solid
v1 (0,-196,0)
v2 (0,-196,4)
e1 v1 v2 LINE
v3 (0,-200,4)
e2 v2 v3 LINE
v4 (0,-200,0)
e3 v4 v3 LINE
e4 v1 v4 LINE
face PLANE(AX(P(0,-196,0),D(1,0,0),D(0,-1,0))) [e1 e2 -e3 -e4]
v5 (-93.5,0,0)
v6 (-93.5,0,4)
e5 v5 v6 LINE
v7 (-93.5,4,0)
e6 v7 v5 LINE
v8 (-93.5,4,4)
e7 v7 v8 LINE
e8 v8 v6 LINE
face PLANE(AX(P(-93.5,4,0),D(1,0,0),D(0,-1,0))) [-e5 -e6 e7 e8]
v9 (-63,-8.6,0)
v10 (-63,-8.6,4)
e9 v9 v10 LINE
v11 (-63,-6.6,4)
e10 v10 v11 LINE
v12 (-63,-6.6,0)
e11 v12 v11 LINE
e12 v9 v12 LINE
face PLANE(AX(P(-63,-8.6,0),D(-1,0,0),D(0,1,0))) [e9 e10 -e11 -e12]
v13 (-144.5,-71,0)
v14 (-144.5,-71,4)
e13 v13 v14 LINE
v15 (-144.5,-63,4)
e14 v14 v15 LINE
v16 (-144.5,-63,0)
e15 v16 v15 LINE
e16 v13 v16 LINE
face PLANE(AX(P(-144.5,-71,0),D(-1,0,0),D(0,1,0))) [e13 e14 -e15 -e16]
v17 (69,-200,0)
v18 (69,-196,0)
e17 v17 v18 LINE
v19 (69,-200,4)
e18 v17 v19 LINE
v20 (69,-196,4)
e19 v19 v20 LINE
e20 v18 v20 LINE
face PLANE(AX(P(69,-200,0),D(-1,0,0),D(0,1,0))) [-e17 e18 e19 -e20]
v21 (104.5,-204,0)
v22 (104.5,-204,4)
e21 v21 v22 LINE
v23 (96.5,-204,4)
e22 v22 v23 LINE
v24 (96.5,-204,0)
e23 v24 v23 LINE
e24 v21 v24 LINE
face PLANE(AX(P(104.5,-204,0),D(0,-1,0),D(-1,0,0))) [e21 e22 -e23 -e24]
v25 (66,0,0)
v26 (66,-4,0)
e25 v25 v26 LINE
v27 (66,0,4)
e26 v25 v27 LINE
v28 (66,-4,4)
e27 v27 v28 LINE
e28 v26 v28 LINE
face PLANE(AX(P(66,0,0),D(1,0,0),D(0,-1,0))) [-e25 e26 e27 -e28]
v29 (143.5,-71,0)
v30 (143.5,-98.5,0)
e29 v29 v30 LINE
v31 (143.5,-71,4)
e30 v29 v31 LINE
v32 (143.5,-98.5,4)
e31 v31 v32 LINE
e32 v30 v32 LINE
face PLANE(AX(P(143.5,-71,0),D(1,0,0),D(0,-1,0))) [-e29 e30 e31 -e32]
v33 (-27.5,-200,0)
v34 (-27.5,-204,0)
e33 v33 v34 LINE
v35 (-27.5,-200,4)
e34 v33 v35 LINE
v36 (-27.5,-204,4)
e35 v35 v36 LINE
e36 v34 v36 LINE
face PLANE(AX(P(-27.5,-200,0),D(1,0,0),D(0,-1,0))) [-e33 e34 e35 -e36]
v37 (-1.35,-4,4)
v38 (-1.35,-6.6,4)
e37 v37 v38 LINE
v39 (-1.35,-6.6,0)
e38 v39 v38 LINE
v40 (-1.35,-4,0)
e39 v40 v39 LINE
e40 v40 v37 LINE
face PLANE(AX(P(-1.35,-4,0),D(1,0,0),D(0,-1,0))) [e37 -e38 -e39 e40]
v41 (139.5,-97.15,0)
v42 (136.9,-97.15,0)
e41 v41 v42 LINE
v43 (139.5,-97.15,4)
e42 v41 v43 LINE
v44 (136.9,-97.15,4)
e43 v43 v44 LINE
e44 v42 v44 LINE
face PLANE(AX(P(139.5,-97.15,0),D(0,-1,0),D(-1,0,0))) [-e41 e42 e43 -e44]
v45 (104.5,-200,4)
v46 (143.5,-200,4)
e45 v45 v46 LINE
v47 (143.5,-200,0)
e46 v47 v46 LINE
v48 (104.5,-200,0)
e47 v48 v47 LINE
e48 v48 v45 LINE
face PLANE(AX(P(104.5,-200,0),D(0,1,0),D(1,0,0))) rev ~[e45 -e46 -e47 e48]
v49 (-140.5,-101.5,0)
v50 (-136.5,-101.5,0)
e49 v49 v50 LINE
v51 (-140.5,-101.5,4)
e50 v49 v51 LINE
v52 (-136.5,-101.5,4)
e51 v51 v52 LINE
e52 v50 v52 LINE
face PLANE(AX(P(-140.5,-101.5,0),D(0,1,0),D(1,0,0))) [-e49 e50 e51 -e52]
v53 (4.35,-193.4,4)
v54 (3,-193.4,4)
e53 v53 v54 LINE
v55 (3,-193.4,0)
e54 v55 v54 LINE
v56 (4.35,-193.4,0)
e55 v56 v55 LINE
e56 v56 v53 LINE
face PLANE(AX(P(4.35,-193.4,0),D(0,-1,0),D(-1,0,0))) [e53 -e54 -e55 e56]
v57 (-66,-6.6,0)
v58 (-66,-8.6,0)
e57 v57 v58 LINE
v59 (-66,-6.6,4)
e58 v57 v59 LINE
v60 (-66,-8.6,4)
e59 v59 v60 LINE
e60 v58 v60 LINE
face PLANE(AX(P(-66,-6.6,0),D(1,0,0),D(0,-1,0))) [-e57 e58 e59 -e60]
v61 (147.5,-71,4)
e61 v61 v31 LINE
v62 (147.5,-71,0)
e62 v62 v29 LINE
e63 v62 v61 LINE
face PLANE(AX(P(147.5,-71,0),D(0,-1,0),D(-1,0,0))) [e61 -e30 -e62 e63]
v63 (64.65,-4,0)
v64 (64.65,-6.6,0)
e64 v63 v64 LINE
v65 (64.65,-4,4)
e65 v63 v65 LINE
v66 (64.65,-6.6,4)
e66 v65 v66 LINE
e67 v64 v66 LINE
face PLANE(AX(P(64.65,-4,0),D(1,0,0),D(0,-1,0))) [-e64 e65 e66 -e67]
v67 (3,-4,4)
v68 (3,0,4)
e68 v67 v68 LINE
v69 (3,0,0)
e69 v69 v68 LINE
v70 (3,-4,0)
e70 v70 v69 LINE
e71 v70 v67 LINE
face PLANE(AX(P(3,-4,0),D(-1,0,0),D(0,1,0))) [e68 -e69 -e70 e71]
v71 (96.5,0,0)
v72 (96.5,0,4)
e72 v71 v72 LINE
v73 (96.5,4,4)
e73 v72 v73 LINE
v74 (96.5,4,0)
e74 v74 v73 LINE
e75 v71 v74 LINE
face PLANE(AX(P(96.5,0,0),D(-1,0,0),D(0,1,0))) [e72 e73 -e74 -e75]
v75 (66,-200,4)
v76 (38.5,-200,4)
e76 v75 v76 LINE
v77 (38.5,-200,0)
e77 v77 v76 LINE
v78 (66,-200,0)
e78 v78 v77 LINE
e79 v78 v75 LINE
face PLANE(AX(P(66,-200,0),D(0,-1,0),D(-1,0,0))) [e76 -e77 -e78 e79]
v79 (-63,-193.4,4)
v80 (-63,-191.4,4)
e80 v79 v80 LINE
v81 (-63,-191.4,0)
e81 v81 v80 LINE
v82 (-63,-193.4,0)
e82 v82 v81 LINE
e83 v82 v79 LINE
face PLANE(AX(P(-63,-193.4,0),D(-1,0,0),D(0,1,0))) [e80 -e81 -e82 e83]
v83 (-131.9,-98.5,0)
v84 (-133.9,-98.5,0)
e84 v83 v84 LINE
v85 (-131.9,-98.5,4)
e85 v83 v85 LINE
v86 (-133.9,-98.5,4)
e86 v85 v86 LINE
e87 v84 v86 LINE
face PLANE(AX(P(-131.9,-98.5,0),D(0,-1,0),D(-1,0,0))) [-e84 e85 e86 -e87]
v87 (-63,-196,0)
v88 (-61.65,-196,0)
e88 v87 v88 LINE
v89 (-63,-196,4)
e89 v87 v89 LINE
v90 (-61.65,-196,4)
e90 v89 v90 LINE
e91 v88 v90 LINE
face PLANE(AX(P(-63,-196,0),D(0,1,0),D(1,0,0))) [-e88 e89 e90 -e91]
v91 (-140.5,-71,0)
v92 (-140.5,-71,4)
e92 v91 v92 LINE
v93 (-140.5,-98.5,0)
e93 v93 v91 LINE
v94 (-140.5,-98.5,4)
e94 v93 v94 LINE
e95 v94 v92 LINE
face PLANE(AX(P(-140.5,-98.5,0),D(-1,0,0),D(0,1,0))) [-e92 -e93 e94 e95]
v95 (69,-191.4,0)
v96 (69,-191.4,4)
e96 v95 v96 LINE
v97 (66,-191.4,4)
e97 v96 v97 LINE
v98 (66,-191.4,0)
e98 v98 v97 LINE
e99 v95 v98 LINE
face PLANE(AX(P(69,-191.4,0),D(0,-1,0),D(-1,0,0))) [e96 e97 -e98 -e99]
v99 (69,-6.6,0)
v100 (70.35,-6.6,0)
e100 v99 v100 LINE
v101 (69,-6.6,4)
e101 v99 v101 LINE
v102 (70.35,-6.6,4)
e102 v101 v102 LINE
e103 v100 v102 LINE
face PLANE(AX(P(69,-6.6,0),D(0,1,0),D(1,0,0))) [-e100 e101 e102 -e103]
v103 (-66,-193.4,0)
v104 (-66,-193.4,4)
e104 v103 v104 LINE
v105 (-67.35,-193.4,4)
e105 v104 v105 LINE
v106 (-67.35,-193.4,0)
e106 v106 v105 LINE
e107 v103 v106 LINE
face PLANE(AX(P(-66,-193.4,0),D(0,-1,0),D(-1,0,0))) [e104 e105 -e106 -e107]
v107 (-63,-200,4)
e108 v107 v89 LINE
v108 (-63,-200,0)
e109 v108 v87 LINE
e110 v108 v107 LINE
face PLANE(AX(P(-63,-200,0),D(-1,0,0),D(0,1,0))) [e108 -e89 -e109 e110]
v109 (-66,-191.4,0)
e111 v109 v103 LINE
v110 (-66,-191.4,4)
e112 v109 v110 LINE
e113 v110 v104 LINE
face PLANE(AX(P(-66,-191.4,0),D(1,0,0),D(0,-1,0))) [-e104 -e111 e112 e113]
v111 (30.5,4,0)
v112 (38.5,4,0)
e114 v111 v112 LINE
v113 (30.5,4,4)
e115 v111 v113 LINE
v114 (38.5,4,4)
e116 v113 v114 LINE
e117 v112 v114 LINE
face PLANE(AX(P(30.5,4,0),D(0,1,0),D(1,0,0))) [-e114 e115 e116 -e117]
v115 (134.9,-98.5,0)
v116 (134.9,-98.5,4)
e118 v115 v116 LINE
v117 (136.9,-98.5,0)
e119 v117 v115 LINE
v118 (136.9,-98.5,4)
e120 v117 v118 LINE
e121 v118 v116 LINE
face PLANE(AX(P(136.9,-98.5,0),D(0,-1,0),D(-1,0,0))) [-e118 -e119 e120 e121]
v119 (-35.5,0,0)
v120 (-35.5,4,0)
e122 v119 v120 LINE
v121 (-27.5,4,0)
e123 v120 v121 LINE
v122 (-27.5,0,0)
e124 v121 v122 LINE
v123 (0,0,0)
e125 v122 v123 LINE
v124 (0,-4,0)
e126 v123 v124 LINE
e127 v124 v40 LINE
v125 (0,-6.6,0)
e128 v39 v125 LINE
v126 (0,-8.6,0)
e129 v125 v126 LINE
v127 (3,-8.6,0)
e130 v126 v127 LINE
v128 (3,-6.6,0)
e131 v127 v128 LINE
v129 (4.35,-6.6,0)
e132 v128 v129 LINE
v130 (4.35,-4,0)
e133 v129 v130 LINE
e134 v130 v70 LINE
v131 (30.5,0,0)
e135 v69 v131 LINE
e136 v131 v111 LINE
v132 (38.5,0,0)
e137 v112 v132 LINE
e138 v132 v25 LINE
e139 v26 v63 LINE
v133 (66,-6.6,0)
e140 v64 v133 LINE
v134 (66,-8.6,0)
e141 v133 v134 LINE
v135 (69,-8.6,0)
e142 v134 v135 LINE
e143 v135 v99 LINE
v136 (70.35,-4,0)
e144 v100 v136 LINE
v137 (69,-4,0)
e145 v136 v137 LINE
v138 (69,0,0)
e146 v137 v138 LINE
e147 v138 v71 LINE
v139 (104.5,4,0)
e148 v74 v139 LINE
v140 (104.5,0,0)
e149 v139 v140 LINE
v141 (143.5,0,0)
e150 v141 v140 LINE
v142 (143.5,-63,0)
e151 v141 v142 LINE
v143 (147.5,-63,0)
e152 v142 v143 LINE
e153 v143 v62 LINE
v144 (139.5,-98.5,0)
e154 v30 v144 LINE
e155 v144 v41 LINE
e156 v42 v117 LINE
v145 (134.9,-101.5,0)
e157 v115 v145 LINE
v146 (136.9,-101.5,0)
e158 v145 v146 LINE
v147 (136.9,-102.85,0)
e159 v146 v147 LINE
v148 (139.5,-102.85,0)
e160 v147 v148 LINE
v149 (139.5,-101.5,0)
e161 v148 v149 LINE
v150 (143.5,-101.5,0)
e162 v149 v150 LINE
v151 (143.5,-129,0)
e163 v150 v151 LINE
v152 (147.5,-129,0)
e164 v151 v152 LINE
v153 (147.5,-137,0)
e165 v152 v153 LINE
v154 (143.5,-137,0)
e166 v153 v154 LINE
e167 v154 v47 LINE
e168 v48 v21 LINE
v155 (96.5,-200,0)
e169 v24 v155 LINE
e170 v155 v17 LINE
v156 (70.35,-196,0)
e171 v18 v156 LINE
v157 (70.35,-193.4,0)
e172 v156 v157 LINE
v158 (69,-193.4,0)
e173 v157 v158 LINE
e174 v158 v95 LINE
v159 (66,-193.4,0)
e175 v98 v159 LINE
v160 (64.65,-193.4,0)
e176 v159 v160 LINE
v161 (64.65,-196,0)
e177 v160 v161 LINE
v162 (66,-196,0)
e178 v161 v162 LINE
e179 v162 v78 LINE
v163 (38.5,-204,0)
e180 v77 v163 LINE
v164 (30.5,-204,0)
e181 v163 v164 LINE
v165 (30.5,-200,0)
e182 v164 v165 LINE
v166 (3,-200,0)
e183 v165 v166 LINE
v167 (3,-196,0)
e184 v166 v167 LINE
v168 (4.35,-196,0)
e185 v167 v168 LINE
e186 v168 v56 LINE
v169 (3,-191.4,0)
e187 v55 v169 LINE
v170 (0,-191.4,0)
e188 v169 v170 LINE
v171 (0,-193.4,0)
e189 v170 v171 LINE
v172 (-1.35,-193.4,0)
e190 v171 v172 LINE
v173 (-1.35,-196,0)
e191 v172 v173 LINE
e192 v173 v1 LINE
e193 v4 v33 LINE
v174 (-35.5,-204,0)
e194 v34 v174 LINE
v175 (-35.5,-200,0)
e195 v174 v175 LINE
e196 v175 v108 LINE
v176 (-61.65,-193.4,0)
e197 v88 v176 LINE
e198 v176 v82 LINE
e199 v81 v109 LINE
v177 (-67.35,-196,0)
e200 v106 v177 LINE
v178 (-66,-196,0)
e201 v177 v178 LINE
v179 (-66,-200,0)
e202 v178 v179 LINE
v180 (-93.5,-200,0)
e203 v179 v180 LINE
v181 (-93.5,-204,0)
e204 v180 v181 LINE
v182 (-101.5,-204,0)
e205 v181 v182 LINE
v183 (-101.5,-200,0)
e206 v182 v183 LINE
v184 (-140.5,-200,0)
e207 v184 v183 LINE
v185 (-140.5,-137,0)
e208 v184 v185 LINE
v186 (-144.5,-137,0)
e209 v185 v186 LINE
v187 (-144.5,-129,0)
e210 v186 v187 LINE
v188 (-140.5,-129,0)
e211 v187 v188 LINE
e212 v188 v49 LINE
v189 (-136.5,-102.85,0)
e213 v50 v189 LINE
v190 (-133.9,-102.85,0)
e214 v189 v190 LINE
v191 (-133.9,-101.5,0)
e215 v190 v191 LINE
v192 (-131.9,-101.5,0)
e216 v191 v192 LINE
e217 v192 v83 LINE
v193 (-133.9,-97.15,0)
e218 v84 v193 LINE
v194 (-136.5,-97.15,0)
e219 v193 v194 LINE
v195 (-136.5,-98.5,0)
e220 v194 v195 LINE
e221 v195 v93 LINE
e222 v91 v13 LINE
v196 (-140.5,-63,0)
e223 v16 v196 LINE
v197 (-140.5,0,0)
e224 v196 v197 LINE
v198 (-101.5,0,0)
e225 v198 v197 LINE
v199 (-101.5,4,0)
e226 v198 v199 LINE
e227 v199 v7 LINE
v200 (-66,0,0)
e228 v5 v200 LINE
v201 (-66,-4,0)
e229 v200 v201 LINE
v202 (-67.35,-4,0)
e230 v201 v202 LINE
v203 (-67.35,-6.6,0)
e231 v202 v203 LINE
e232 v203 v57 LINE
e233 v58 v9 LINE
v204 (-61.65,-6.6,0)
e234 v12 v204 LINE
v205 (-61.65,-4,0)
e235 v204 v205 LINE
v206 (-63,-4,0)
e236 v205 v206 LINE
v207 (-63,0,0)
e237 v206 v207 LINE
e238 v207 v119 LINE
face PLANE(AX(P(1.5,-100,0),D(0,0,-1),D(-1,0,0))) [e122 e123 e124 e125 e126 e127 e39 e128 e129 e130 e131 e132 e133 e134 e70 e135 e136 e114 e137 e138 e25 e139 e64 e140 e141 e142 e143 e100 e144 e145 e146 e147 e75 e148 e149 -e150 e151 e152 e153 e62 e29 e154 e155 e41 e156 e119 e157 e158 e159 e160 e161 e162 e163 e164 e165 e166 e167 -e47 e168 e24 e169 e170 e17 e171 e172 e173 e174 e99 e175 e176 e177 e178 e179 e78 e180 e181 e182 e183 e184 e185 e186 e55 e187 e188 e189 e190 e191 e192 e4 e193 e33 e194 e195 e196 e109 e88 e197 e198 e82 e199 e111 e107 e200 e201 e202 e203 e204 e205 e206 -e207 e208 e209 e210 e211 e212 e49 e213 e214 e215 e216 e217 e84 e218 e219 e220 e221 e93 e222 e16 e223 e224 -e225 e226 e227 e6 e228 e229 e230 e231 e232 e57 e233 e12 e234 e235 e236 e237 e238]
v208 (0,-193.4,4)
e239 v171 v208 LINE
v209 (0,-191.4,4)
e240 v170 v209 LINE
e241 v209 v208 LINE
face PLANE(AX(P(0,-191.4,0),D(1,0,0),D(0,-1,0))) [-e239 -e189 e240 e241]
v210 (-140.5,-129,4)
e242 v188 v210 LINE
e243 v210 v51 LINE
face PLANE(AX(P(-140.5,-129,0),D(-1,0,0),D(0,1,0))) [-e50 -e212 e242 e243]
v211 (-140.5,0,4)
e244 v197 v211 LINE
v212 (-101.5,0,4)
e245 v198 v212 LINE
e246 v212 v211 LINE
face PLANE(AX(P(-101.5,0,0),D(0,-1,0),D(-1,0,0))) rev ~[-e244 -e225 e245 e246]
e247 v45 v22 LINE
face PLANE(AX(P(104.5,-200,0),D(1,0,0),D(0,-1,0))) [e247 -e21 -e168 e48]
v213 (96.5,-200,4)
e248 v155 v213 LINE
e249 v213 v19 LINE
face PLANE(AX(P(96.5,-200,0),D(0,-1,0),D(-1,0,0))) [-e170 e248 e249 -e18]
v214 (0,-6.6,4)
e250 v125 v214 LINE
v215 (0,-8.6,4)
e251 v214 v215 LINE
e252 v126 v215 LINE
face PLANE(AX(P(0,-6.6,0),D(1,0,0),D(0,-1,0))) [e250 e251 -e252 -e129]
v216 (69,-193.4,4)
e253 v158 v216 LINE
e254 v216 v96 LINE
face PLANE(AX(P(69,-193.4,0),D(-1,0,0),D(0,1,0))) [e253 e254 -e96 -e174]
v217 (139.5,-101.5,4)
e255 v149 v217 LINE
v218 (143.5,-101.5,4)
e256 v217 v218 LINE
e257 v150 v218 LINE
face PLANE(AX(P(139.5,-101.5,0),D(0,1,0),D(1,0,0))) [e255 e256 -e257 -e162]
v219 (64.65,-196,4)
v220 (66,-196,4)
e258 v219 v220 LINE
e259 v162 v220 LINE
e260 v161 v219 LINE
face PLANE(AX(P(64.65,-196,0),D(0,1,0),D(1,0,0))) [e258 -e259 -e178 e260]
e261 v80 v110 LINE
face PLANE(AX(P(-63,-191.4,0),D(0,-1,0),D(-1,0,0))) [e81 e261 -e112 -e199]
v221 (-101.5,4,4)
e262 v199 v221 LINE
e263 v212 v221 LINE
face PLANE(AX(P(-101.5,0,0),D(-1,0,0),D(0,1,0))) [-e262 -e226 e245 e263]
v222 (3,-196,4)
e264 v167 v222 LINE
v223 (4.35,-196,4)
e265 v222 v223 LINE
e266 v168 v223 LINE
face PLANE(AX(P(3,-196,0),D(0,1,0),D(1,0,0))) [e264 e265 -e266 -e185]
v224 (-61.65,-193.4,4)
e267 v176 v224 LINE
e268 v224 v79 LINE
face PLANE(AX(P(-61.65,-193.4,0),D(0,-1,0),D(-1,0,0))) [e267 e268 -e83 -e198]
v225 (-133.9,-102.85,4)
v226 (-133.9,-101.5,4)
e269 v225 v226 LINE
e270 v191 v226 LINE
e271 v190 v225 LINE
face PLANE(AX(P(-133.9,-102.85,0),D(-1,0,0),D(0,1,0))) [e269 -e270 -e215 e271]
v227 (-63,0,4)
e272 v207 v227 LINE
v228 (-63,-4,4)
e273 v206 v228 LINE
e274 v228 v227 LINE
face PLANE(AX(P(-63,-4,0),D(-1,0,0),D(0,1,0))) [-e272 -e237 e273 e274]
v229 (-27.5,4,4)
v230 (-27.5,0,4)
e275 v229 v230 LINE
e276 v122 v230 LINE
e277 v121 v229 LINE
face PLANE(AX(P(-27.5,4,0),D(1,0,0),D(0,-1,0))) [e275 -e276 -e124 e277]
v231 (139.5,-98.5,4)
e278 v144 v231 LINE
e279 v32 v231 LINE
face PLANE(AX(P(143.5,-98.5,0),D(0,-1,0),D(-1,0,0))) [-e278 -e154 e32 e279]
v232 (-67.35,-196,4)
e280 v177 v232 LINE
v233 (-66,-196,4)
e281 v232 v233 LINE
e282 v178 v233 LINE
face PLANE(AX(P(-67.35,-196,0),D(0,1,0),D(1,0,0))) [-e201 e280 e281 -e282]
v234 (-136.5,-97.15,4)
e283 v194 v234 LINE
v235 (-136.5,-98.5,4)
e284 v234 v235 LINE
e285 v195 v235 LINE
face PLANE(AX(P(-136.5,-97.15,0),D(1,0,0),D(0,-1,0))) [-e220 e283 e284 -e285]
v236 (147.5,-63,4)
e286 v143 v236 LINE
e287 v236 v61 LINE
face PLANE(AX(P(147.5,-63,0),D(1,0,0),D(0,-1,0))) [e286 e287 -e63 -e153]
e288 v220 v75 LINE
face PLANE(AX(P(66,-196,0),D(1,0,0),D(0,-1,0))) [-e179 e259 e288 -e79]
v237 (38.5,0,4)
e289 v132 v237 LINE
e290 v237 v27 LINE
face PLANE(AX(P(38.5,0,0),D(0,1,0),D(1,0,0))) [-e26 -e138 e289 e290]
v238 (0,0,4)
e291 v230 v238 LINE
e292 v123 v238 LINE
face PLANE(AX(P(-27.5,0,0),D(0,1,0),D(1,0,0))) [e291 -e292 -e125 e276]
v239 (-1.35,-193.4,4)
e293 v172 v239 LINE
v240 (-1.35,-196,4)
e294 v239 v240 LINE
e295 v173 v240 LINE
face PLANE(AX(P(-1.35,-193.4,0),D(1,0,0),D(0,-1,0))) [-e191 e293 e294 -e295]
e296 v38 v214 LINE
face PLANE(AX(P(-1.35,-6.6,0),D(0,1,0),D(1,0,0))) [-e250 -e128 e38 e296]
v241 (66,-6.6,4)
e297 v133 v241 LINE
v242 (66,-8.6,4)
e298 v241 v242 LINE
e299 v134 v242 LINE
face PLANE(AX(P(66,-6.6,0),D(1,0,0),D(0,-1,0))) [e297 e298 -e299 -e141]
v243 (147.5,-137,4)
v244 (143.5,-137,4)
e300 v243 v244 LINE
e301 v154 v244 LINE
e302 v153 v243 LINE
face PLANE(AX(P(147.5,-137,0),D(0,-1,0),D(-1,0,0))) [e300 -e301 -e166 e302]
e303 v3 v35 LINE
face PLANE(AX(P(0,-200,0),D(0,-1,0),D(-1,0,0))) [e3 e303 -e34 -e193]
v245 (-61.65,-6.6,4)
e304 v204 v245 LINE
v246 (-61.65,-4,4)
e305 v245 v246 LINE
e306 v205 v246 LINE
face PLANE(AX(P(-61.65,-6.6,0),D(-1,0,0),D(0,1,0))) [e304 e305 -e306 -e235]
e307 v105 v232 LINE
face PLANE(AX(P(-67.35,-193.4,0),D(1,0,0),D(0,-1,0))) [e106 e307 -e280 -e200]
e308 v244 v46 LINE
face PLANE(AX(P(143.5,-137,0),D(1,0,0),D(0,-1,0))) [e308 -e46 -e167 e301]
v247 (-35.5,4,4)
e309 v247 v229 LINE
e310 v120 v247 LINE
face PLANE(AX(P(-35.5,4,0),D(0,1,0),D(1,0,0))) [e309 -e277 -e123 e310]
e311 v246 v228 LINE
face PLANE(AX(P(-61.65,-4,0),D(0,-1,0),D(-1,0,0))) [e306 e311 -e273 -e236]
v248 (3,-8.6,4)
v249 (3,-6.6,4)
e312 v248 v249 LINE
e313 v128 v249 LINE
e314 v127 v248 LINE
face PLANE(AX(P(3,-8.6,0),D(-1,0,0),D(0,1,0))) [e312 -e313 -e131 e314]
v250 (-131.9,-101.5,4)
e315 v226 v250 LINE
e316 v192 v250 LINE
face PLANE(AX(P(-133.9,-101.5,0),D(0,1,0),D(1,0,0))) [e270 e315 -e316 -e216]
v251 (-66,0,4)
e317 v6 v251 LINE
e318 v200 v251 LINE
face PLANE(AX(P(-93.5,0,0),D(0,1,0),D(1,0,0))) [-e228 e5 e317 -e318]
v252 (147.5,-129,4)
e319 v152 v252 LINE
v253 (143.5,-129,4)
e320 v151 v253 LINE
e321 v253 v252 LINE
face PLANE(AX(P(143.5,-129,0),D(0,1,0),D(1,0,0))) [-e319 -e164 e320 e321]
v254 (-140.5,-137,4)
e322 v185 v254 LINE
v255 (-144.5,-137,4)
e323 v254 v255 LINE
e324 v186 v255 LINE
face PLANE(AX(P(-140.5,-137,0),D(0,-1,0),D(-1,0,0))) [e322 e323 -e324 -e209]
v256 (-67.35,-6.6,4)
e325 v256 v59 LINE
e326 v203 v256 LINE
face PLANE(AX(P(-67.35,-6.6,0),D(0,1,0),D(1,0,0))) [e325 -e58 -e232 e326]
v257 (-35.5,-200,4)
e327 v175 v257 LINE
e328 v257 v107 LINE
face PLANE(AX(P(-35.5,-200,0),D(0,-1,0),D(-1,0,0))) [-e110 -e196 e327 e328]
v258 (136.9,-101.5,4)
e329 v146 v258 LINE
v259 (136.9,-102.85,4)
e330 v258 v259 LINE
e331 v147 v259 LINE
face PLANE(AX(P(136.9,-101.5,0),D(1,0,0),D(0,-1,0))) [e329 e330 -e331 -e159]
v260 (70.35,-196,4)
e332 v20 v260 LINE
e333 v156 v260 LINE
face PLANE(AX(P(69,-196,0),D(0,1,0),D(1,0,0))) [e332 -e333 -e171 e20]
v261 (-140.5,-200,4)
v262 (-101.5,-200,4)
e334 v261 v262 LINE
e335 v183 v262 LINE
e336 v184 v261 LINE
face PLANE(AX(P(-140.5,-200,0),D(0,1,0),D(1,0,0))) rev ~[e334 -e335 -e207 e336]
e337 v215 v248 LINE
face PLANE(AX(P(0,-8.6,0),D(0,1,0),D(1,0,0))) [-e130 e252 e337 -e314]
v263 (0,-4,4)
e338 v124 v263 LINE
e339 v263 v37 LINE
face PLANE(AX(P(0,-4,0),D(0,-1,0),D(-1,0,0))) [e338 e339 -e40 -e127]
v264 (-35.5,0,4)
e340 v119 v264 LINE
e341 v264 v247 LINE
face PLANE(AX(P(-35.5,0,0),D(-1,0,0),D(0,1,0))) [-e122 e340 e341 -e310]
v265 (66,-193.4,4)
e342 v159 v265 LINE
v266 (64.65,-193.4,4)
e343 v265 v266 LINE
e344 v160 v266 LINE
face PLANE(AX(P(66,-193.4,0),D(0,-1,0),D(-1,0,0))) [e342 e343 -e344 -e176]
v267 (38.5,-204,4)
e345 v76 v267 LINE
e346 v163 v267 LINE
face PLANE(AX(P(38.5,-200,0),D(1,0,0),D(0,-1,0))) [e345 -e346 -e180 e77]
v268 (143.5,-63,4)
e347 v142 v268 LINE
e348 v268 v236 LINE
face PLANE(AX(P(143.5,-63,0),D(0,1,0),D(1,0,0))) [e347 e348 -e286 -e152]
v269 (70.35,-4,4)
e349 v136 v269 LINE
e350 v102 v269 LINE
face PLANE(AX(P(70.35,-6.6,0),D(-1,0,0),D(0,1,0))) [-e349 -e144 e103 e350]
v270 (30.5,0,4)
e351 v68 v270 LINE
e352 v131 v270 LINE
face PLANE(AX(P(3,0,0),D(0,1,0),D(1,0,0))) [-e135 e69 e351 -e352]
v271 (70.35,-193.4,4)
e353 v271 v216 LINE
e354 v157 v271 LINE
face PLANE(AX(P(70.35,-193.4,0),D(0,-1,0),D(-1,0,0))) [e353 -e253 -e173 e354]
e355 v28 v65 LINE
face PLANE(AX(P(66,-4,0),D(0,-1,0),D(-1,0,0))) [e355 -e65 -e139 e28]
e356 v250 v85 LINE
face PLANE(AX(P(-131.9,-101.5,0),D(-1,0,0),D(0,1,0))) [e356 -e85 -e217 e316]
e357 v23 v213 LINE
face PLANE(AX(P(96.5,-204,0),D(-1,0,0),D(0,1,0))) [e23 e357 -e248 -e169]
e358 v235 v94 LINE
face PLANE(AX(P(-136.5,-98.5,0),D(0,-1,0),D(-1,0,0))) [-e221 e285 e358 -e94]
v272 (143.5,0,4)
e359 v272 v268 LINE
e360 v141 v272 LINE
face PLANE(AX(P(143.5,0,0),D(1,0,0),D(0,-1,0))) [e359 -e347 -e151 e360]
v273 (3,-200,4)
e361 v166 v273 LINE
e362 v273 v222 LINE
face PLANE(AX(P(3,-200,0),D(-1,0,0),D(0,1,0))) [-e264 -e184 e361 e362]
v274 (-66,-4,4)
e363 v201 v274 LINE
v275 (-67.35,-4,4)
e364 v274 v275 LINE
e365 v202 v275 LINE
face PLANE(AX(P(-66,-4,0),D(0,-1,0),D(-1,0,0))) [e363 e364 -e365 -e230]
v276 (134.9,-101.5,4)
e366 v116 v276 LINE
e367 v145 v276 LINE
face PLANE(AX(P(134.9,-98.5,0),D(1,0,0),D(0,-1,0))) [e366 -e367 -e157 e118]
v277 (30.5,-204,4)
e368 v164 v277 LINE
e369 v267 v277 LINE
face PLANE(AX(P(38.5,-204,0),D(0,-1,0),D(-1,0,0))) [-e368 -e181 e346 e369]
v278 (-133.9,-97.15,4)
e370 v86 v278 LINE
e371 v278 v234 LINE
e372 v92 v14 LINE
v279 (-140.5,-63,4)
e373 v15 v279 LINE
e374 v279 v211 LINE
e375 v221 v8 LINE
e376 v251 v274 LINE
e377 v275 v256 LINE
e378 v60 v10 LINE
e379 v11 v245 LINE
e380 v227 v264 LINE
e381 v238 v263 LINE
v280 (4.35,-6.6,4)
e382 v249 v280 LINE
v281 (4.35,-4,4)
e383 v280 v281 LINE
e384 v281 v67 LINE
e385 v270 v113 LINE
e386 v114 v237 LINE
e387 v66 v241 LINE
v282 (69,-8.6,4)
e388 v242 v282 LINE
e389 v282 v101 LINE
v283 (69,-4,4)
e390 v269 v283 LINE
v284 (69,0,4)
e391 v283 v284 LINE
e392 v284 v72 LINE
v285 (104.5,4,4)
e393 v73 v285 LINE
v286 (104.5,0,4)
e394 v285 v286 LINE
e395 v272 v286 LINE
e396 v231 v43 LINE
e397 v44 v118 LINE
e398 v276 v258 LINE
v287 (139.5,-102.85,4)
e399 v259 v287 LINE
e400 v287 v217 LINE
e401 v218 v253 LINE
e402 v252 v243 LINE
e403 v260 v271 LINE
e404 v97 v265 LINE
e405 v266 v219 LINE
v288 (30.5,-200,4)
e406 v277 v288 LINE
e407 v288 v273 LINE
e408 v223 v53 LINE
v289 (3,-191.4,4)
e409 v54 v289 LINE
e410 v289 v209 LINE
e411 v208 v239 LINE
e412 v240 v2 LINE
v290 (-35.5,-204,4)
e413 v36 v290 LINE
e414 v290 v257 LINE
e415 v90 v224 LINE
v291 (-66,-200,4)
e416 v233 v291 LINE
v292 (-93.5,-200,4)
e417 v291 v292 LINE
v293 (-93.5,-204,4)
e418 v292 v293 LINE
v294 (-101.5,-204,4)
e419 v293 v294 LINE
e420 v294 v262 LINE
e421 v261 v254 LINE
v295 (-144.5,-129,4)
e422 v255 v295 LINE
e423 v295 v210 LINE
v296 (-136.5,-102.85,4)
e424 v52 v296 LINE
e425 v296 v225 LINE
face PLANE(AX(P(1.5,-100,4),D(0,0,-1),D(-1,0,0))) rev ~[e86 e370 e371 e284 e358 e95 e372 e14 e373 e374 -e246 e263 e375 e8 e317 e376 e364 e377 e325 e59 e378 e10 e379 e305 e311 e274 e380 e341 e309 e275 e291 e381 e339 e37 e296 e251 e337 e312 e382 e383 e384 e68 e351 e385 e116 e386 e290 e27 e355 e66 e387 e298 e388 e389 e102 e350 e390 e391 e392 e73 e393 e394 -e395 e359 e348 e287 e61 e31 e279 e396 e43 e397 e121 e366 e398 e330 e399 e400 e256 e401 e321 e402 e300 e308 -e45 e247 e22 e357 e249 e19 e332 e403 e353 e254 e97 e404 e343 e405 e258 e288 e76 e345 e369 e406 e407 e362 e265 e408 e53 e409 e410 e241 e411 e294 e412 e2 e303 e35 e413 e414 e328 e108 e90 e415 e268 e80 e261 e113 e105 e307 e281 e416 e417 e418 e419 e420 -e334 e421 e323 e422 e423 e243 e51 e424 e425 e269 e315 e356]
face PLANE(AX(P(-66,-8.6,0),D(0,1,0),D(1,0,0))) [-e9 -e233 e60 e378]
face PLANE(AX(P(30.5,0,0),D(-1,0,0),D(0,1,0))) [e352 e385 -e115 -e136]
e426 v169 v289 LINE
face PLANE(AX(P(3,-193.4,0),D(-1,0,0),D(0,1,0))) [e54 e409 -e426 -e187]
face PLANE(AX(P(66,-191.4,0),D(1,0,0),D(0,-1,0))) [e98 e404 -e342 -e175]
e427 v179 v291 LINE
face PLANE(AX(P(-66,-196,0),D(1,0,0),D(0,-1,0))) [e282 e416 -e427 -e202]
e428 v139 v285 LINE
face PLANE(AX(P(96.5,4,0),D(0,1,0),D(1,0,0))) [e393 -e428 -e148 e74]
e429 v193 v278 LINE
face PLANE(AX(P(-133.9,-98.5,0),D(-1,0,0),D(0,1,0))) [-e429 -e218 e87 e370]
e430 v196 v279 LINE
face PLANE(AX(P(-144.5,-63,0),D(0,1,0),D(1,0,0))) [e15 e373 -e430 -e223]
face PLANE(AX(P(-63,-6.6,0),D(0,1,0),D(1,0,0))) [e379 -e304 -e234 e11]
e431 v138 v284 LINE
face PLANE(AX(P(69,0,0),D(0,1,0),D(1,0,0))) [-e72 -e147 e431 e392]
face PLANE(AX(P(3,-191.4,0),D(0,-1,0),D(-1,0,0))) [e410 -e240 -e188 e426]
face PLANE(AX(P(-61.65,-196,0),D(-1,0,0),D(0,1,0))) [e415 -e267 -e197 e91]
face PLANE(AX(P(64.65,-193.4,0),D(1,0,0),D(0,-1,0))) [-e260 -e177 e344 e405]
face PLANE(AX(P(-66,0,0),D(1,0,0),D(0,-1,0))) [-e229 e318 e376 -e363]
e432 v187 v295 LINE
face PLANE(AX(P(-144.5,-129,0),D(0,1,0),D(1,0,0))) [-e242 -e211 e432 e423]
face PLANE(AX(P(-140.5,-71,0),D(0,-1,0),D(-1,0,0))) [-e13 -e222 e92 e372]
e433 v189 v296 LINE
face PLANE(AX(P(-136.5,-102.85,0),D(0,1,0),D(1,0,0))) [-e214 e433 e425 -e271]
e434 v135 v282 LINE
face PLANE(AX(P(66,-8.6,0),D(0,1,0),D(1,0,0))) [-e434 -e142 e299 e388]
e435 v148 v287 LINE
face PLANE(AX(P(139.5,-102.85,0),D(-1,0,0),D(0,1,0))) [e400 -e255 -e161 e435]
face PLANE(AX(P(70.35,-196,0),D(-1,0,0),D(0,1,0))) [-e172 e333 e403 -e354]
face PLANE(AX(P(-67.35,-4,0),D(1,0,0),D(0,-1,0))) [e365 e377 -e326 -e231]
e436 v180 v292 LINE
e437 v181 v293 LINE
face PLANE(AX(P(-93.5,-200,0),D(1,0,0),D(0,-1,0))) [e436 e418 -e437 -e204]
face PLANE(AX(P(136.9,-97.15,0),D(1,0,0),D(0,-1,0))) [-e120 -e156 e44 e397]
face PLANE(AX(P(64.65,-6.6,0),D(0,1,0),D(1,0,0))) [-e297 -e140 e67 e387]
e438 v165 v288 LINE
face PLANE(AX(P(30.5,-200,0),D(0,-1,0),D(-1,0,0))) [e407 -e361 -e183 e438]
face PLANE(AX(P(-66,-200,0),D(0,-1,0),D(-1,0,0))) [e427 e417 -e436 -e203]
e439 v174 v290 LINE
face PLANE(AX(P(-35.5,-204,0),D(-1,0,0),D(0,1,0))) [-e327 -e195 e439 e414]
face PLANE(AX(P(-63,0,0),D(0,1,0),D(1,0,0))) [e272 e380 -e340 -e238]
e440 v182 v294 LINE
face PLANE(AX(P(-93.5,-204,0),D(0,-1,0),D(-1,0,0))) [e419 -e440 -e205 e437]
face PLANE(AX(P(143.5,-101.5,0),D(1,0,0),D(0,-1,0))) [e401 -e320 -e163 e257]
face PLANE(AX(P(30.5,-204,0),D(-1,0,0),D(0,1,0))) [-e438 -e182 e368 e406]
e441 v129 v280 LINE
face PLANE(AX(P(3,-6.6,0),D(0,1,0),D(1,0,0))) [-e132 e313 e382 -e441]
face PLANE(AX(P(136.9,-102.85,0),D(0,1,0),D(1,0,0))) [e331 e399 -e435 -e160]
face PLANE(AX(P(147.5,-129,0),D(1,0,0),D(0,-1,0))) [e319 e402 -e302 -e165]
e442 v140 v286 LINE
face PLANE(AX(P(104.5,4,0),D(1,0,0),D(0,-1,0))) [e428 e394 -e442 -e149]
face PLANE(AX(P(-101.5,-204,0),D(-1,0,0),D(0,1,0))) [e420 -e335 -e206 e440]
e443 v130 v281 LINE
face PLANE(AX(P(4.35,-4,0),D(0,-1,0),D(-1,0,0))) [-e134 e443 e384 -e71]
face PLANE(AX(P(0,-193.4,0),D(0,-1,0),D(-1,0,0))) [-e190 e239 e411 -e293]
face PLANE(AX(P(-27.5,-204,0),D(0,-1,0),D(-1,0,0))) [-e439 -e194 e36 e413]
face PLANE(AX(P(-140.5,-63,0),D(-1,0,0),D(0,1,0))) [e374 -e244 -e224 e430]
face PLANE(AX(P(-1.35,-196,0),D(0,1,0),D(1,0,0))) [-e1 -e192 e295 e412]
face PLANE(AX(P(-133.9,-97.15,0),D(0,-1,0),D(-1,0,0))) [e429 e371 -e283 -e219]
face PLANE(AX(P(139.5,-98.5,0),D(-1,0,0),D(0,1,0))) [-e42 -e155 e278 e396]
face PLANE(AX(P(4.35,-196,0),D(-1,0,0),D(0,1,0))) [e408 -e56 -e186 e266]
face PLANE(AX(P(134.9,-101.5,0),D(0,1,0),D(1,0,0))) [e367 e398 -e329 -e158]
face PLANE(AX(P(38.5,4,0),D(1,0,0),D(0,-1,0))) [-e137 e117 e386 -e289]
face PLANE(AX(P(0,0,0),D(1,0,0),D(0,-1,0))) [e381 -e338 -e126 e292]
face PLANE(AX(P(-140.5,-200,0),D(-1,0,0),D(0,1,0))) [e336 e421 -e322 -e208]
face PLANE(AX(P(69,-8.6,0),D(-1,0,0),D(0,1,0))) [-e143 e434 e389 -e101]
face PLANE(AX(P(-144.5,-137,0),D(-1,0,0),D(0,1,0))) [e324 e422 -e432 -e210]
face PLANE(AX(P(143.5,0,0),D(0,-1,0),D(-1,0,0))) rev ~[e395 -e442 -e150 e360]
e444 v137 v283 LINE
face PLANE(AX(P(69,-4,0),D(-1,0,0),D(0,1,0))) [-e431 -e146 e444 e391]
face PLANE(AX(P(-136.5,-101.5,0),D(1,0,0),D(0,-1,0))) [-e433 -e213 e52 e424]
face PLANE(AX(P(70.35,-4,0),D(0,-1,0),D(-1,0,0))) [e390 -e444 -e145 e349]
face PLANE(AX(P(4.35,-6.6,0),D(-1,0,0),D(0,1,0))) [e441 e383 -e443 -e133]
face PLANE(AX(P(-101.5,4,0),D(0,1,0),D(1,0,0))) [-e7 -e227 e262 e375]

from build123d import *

# Parameters (mm, degrees)
EXTRUDE_1_DEPTH = 4


with BuildPart() as part:
    # 草图1 → 凸台-拉伸1 (new body)
    with BuildSketch(Plane.XY):
        Polygon((0, 0), (0, -4), (-1.35, -4), (-1.35, -6.6), (0, -6.6), (0, -8.6), (3, -8.6), (3, -6.6), (4.35, -6.6), (4.35, -4), (3, -4), (3, 0), (30.5, 0), (30.5, 4), (38.5, 4), (38.5, 0), (66, 0), (66, -4), (64.65, -4), (64.65, -6.6), (66, -6.6), (66, -8.6), (69, -8.6), (69, -6.6), (70.35, -6.6), (70.35, -4), (69, -4), (69, 0), (96.5, 0), (96.5, 4), (104.5, 4), (104.5, 0), (132, 0), (143.5, 0), (143.5, -63), (147.5, -63), (147.5, -71), (143.5, -71), (143.5, -98.5), (139.5, -98.5), (139.5, -97.15), (136.9, -97.15), (136.9, -98.5), (134.9, -98.5), (134.9, -101.5), (136.9, -101.5), (136.9, -102.85), (139.5, -102.85), (139.5, -101.5), (143.5, -101.5), (143.5, -129), (147.5, -129), (147.5, -137), (143.5, -137), (143.5, -200), (132, -200), (104.5, -200), (104.5, -204), (96.5, -204), (96.5, -200), (69, -200), (69, -196), (70.35, -196), (70.35, -193.4), (69, -193.4), (69, -191.4), (66, -191.4), (66, -193.4), (64.65, -193.4), (64.65, -196), (66, -196), (66, -200), (38.5, -200), (38.5, -204), (30.5, -204), (30.5, -200), (3, -200), (3, -196), (4.35, -196), (4.35, -193.4), (3, -193.4), (3, -191.4), (0, -191.4), (0, -193.4), (-1.35, -193.4), (-1.35, -196), (0, -196), (0, -200), (-27.5, -200), (-27.5, -204), (-35.5, -204), (-35.5, -200), (-63, -200), (-63, -196), (-61.65, -196), (-61.65, -193.4), (-63, -193.4), (-63, -191.4), (-66, -191.4), (-66, -193.4), (-67.35, -193.4), (-67.35, -196), (-66, -196), (-66, -200), (-93.5, -200), (-93.5, -204), (-101.5, -204), (-101.5, -200), (-129, -200), (-140.5, -200), (-140.5, -137), (-144.5, -137), (-144.5, -129), (-140.5, -129), (-140.5, -101.5), (-136.5, -101.5), (-136.5, -102.85), (-133.9, -102.85), (-133.9, -101.5), (-131.9, -101.5), (-131.9, -98.5), (-133.9, -98.5), (-133.9, -97.15), (-136.5, -97.15), (-136.5, -98.5), (-140.5, -98.5), (-140.5, -71), (-144.5, -71), (-144.5, -63), (-140.5, -63), (-140.5, 0), (-129, 0), (-101.5, 0), (-101.5, 4), (-93.5, 4), (-93.5, 0), (-66, 0), (-66, -4), (-67.35, -4), (-67.35, -6.6), (-66, -6.6), (-66, -8.6), (-63, -8.6), (-63, -6.6), (-61.65, -6.6), (-61.65, -4), (-63, -4), (-63, 0), (-35.5, 0), (-35.5, 4), (-27.5, 4), (-27.5, 0), align=None)
    extrude(amount=EXTRUDE_1_DEPTH)


solid = part.part
